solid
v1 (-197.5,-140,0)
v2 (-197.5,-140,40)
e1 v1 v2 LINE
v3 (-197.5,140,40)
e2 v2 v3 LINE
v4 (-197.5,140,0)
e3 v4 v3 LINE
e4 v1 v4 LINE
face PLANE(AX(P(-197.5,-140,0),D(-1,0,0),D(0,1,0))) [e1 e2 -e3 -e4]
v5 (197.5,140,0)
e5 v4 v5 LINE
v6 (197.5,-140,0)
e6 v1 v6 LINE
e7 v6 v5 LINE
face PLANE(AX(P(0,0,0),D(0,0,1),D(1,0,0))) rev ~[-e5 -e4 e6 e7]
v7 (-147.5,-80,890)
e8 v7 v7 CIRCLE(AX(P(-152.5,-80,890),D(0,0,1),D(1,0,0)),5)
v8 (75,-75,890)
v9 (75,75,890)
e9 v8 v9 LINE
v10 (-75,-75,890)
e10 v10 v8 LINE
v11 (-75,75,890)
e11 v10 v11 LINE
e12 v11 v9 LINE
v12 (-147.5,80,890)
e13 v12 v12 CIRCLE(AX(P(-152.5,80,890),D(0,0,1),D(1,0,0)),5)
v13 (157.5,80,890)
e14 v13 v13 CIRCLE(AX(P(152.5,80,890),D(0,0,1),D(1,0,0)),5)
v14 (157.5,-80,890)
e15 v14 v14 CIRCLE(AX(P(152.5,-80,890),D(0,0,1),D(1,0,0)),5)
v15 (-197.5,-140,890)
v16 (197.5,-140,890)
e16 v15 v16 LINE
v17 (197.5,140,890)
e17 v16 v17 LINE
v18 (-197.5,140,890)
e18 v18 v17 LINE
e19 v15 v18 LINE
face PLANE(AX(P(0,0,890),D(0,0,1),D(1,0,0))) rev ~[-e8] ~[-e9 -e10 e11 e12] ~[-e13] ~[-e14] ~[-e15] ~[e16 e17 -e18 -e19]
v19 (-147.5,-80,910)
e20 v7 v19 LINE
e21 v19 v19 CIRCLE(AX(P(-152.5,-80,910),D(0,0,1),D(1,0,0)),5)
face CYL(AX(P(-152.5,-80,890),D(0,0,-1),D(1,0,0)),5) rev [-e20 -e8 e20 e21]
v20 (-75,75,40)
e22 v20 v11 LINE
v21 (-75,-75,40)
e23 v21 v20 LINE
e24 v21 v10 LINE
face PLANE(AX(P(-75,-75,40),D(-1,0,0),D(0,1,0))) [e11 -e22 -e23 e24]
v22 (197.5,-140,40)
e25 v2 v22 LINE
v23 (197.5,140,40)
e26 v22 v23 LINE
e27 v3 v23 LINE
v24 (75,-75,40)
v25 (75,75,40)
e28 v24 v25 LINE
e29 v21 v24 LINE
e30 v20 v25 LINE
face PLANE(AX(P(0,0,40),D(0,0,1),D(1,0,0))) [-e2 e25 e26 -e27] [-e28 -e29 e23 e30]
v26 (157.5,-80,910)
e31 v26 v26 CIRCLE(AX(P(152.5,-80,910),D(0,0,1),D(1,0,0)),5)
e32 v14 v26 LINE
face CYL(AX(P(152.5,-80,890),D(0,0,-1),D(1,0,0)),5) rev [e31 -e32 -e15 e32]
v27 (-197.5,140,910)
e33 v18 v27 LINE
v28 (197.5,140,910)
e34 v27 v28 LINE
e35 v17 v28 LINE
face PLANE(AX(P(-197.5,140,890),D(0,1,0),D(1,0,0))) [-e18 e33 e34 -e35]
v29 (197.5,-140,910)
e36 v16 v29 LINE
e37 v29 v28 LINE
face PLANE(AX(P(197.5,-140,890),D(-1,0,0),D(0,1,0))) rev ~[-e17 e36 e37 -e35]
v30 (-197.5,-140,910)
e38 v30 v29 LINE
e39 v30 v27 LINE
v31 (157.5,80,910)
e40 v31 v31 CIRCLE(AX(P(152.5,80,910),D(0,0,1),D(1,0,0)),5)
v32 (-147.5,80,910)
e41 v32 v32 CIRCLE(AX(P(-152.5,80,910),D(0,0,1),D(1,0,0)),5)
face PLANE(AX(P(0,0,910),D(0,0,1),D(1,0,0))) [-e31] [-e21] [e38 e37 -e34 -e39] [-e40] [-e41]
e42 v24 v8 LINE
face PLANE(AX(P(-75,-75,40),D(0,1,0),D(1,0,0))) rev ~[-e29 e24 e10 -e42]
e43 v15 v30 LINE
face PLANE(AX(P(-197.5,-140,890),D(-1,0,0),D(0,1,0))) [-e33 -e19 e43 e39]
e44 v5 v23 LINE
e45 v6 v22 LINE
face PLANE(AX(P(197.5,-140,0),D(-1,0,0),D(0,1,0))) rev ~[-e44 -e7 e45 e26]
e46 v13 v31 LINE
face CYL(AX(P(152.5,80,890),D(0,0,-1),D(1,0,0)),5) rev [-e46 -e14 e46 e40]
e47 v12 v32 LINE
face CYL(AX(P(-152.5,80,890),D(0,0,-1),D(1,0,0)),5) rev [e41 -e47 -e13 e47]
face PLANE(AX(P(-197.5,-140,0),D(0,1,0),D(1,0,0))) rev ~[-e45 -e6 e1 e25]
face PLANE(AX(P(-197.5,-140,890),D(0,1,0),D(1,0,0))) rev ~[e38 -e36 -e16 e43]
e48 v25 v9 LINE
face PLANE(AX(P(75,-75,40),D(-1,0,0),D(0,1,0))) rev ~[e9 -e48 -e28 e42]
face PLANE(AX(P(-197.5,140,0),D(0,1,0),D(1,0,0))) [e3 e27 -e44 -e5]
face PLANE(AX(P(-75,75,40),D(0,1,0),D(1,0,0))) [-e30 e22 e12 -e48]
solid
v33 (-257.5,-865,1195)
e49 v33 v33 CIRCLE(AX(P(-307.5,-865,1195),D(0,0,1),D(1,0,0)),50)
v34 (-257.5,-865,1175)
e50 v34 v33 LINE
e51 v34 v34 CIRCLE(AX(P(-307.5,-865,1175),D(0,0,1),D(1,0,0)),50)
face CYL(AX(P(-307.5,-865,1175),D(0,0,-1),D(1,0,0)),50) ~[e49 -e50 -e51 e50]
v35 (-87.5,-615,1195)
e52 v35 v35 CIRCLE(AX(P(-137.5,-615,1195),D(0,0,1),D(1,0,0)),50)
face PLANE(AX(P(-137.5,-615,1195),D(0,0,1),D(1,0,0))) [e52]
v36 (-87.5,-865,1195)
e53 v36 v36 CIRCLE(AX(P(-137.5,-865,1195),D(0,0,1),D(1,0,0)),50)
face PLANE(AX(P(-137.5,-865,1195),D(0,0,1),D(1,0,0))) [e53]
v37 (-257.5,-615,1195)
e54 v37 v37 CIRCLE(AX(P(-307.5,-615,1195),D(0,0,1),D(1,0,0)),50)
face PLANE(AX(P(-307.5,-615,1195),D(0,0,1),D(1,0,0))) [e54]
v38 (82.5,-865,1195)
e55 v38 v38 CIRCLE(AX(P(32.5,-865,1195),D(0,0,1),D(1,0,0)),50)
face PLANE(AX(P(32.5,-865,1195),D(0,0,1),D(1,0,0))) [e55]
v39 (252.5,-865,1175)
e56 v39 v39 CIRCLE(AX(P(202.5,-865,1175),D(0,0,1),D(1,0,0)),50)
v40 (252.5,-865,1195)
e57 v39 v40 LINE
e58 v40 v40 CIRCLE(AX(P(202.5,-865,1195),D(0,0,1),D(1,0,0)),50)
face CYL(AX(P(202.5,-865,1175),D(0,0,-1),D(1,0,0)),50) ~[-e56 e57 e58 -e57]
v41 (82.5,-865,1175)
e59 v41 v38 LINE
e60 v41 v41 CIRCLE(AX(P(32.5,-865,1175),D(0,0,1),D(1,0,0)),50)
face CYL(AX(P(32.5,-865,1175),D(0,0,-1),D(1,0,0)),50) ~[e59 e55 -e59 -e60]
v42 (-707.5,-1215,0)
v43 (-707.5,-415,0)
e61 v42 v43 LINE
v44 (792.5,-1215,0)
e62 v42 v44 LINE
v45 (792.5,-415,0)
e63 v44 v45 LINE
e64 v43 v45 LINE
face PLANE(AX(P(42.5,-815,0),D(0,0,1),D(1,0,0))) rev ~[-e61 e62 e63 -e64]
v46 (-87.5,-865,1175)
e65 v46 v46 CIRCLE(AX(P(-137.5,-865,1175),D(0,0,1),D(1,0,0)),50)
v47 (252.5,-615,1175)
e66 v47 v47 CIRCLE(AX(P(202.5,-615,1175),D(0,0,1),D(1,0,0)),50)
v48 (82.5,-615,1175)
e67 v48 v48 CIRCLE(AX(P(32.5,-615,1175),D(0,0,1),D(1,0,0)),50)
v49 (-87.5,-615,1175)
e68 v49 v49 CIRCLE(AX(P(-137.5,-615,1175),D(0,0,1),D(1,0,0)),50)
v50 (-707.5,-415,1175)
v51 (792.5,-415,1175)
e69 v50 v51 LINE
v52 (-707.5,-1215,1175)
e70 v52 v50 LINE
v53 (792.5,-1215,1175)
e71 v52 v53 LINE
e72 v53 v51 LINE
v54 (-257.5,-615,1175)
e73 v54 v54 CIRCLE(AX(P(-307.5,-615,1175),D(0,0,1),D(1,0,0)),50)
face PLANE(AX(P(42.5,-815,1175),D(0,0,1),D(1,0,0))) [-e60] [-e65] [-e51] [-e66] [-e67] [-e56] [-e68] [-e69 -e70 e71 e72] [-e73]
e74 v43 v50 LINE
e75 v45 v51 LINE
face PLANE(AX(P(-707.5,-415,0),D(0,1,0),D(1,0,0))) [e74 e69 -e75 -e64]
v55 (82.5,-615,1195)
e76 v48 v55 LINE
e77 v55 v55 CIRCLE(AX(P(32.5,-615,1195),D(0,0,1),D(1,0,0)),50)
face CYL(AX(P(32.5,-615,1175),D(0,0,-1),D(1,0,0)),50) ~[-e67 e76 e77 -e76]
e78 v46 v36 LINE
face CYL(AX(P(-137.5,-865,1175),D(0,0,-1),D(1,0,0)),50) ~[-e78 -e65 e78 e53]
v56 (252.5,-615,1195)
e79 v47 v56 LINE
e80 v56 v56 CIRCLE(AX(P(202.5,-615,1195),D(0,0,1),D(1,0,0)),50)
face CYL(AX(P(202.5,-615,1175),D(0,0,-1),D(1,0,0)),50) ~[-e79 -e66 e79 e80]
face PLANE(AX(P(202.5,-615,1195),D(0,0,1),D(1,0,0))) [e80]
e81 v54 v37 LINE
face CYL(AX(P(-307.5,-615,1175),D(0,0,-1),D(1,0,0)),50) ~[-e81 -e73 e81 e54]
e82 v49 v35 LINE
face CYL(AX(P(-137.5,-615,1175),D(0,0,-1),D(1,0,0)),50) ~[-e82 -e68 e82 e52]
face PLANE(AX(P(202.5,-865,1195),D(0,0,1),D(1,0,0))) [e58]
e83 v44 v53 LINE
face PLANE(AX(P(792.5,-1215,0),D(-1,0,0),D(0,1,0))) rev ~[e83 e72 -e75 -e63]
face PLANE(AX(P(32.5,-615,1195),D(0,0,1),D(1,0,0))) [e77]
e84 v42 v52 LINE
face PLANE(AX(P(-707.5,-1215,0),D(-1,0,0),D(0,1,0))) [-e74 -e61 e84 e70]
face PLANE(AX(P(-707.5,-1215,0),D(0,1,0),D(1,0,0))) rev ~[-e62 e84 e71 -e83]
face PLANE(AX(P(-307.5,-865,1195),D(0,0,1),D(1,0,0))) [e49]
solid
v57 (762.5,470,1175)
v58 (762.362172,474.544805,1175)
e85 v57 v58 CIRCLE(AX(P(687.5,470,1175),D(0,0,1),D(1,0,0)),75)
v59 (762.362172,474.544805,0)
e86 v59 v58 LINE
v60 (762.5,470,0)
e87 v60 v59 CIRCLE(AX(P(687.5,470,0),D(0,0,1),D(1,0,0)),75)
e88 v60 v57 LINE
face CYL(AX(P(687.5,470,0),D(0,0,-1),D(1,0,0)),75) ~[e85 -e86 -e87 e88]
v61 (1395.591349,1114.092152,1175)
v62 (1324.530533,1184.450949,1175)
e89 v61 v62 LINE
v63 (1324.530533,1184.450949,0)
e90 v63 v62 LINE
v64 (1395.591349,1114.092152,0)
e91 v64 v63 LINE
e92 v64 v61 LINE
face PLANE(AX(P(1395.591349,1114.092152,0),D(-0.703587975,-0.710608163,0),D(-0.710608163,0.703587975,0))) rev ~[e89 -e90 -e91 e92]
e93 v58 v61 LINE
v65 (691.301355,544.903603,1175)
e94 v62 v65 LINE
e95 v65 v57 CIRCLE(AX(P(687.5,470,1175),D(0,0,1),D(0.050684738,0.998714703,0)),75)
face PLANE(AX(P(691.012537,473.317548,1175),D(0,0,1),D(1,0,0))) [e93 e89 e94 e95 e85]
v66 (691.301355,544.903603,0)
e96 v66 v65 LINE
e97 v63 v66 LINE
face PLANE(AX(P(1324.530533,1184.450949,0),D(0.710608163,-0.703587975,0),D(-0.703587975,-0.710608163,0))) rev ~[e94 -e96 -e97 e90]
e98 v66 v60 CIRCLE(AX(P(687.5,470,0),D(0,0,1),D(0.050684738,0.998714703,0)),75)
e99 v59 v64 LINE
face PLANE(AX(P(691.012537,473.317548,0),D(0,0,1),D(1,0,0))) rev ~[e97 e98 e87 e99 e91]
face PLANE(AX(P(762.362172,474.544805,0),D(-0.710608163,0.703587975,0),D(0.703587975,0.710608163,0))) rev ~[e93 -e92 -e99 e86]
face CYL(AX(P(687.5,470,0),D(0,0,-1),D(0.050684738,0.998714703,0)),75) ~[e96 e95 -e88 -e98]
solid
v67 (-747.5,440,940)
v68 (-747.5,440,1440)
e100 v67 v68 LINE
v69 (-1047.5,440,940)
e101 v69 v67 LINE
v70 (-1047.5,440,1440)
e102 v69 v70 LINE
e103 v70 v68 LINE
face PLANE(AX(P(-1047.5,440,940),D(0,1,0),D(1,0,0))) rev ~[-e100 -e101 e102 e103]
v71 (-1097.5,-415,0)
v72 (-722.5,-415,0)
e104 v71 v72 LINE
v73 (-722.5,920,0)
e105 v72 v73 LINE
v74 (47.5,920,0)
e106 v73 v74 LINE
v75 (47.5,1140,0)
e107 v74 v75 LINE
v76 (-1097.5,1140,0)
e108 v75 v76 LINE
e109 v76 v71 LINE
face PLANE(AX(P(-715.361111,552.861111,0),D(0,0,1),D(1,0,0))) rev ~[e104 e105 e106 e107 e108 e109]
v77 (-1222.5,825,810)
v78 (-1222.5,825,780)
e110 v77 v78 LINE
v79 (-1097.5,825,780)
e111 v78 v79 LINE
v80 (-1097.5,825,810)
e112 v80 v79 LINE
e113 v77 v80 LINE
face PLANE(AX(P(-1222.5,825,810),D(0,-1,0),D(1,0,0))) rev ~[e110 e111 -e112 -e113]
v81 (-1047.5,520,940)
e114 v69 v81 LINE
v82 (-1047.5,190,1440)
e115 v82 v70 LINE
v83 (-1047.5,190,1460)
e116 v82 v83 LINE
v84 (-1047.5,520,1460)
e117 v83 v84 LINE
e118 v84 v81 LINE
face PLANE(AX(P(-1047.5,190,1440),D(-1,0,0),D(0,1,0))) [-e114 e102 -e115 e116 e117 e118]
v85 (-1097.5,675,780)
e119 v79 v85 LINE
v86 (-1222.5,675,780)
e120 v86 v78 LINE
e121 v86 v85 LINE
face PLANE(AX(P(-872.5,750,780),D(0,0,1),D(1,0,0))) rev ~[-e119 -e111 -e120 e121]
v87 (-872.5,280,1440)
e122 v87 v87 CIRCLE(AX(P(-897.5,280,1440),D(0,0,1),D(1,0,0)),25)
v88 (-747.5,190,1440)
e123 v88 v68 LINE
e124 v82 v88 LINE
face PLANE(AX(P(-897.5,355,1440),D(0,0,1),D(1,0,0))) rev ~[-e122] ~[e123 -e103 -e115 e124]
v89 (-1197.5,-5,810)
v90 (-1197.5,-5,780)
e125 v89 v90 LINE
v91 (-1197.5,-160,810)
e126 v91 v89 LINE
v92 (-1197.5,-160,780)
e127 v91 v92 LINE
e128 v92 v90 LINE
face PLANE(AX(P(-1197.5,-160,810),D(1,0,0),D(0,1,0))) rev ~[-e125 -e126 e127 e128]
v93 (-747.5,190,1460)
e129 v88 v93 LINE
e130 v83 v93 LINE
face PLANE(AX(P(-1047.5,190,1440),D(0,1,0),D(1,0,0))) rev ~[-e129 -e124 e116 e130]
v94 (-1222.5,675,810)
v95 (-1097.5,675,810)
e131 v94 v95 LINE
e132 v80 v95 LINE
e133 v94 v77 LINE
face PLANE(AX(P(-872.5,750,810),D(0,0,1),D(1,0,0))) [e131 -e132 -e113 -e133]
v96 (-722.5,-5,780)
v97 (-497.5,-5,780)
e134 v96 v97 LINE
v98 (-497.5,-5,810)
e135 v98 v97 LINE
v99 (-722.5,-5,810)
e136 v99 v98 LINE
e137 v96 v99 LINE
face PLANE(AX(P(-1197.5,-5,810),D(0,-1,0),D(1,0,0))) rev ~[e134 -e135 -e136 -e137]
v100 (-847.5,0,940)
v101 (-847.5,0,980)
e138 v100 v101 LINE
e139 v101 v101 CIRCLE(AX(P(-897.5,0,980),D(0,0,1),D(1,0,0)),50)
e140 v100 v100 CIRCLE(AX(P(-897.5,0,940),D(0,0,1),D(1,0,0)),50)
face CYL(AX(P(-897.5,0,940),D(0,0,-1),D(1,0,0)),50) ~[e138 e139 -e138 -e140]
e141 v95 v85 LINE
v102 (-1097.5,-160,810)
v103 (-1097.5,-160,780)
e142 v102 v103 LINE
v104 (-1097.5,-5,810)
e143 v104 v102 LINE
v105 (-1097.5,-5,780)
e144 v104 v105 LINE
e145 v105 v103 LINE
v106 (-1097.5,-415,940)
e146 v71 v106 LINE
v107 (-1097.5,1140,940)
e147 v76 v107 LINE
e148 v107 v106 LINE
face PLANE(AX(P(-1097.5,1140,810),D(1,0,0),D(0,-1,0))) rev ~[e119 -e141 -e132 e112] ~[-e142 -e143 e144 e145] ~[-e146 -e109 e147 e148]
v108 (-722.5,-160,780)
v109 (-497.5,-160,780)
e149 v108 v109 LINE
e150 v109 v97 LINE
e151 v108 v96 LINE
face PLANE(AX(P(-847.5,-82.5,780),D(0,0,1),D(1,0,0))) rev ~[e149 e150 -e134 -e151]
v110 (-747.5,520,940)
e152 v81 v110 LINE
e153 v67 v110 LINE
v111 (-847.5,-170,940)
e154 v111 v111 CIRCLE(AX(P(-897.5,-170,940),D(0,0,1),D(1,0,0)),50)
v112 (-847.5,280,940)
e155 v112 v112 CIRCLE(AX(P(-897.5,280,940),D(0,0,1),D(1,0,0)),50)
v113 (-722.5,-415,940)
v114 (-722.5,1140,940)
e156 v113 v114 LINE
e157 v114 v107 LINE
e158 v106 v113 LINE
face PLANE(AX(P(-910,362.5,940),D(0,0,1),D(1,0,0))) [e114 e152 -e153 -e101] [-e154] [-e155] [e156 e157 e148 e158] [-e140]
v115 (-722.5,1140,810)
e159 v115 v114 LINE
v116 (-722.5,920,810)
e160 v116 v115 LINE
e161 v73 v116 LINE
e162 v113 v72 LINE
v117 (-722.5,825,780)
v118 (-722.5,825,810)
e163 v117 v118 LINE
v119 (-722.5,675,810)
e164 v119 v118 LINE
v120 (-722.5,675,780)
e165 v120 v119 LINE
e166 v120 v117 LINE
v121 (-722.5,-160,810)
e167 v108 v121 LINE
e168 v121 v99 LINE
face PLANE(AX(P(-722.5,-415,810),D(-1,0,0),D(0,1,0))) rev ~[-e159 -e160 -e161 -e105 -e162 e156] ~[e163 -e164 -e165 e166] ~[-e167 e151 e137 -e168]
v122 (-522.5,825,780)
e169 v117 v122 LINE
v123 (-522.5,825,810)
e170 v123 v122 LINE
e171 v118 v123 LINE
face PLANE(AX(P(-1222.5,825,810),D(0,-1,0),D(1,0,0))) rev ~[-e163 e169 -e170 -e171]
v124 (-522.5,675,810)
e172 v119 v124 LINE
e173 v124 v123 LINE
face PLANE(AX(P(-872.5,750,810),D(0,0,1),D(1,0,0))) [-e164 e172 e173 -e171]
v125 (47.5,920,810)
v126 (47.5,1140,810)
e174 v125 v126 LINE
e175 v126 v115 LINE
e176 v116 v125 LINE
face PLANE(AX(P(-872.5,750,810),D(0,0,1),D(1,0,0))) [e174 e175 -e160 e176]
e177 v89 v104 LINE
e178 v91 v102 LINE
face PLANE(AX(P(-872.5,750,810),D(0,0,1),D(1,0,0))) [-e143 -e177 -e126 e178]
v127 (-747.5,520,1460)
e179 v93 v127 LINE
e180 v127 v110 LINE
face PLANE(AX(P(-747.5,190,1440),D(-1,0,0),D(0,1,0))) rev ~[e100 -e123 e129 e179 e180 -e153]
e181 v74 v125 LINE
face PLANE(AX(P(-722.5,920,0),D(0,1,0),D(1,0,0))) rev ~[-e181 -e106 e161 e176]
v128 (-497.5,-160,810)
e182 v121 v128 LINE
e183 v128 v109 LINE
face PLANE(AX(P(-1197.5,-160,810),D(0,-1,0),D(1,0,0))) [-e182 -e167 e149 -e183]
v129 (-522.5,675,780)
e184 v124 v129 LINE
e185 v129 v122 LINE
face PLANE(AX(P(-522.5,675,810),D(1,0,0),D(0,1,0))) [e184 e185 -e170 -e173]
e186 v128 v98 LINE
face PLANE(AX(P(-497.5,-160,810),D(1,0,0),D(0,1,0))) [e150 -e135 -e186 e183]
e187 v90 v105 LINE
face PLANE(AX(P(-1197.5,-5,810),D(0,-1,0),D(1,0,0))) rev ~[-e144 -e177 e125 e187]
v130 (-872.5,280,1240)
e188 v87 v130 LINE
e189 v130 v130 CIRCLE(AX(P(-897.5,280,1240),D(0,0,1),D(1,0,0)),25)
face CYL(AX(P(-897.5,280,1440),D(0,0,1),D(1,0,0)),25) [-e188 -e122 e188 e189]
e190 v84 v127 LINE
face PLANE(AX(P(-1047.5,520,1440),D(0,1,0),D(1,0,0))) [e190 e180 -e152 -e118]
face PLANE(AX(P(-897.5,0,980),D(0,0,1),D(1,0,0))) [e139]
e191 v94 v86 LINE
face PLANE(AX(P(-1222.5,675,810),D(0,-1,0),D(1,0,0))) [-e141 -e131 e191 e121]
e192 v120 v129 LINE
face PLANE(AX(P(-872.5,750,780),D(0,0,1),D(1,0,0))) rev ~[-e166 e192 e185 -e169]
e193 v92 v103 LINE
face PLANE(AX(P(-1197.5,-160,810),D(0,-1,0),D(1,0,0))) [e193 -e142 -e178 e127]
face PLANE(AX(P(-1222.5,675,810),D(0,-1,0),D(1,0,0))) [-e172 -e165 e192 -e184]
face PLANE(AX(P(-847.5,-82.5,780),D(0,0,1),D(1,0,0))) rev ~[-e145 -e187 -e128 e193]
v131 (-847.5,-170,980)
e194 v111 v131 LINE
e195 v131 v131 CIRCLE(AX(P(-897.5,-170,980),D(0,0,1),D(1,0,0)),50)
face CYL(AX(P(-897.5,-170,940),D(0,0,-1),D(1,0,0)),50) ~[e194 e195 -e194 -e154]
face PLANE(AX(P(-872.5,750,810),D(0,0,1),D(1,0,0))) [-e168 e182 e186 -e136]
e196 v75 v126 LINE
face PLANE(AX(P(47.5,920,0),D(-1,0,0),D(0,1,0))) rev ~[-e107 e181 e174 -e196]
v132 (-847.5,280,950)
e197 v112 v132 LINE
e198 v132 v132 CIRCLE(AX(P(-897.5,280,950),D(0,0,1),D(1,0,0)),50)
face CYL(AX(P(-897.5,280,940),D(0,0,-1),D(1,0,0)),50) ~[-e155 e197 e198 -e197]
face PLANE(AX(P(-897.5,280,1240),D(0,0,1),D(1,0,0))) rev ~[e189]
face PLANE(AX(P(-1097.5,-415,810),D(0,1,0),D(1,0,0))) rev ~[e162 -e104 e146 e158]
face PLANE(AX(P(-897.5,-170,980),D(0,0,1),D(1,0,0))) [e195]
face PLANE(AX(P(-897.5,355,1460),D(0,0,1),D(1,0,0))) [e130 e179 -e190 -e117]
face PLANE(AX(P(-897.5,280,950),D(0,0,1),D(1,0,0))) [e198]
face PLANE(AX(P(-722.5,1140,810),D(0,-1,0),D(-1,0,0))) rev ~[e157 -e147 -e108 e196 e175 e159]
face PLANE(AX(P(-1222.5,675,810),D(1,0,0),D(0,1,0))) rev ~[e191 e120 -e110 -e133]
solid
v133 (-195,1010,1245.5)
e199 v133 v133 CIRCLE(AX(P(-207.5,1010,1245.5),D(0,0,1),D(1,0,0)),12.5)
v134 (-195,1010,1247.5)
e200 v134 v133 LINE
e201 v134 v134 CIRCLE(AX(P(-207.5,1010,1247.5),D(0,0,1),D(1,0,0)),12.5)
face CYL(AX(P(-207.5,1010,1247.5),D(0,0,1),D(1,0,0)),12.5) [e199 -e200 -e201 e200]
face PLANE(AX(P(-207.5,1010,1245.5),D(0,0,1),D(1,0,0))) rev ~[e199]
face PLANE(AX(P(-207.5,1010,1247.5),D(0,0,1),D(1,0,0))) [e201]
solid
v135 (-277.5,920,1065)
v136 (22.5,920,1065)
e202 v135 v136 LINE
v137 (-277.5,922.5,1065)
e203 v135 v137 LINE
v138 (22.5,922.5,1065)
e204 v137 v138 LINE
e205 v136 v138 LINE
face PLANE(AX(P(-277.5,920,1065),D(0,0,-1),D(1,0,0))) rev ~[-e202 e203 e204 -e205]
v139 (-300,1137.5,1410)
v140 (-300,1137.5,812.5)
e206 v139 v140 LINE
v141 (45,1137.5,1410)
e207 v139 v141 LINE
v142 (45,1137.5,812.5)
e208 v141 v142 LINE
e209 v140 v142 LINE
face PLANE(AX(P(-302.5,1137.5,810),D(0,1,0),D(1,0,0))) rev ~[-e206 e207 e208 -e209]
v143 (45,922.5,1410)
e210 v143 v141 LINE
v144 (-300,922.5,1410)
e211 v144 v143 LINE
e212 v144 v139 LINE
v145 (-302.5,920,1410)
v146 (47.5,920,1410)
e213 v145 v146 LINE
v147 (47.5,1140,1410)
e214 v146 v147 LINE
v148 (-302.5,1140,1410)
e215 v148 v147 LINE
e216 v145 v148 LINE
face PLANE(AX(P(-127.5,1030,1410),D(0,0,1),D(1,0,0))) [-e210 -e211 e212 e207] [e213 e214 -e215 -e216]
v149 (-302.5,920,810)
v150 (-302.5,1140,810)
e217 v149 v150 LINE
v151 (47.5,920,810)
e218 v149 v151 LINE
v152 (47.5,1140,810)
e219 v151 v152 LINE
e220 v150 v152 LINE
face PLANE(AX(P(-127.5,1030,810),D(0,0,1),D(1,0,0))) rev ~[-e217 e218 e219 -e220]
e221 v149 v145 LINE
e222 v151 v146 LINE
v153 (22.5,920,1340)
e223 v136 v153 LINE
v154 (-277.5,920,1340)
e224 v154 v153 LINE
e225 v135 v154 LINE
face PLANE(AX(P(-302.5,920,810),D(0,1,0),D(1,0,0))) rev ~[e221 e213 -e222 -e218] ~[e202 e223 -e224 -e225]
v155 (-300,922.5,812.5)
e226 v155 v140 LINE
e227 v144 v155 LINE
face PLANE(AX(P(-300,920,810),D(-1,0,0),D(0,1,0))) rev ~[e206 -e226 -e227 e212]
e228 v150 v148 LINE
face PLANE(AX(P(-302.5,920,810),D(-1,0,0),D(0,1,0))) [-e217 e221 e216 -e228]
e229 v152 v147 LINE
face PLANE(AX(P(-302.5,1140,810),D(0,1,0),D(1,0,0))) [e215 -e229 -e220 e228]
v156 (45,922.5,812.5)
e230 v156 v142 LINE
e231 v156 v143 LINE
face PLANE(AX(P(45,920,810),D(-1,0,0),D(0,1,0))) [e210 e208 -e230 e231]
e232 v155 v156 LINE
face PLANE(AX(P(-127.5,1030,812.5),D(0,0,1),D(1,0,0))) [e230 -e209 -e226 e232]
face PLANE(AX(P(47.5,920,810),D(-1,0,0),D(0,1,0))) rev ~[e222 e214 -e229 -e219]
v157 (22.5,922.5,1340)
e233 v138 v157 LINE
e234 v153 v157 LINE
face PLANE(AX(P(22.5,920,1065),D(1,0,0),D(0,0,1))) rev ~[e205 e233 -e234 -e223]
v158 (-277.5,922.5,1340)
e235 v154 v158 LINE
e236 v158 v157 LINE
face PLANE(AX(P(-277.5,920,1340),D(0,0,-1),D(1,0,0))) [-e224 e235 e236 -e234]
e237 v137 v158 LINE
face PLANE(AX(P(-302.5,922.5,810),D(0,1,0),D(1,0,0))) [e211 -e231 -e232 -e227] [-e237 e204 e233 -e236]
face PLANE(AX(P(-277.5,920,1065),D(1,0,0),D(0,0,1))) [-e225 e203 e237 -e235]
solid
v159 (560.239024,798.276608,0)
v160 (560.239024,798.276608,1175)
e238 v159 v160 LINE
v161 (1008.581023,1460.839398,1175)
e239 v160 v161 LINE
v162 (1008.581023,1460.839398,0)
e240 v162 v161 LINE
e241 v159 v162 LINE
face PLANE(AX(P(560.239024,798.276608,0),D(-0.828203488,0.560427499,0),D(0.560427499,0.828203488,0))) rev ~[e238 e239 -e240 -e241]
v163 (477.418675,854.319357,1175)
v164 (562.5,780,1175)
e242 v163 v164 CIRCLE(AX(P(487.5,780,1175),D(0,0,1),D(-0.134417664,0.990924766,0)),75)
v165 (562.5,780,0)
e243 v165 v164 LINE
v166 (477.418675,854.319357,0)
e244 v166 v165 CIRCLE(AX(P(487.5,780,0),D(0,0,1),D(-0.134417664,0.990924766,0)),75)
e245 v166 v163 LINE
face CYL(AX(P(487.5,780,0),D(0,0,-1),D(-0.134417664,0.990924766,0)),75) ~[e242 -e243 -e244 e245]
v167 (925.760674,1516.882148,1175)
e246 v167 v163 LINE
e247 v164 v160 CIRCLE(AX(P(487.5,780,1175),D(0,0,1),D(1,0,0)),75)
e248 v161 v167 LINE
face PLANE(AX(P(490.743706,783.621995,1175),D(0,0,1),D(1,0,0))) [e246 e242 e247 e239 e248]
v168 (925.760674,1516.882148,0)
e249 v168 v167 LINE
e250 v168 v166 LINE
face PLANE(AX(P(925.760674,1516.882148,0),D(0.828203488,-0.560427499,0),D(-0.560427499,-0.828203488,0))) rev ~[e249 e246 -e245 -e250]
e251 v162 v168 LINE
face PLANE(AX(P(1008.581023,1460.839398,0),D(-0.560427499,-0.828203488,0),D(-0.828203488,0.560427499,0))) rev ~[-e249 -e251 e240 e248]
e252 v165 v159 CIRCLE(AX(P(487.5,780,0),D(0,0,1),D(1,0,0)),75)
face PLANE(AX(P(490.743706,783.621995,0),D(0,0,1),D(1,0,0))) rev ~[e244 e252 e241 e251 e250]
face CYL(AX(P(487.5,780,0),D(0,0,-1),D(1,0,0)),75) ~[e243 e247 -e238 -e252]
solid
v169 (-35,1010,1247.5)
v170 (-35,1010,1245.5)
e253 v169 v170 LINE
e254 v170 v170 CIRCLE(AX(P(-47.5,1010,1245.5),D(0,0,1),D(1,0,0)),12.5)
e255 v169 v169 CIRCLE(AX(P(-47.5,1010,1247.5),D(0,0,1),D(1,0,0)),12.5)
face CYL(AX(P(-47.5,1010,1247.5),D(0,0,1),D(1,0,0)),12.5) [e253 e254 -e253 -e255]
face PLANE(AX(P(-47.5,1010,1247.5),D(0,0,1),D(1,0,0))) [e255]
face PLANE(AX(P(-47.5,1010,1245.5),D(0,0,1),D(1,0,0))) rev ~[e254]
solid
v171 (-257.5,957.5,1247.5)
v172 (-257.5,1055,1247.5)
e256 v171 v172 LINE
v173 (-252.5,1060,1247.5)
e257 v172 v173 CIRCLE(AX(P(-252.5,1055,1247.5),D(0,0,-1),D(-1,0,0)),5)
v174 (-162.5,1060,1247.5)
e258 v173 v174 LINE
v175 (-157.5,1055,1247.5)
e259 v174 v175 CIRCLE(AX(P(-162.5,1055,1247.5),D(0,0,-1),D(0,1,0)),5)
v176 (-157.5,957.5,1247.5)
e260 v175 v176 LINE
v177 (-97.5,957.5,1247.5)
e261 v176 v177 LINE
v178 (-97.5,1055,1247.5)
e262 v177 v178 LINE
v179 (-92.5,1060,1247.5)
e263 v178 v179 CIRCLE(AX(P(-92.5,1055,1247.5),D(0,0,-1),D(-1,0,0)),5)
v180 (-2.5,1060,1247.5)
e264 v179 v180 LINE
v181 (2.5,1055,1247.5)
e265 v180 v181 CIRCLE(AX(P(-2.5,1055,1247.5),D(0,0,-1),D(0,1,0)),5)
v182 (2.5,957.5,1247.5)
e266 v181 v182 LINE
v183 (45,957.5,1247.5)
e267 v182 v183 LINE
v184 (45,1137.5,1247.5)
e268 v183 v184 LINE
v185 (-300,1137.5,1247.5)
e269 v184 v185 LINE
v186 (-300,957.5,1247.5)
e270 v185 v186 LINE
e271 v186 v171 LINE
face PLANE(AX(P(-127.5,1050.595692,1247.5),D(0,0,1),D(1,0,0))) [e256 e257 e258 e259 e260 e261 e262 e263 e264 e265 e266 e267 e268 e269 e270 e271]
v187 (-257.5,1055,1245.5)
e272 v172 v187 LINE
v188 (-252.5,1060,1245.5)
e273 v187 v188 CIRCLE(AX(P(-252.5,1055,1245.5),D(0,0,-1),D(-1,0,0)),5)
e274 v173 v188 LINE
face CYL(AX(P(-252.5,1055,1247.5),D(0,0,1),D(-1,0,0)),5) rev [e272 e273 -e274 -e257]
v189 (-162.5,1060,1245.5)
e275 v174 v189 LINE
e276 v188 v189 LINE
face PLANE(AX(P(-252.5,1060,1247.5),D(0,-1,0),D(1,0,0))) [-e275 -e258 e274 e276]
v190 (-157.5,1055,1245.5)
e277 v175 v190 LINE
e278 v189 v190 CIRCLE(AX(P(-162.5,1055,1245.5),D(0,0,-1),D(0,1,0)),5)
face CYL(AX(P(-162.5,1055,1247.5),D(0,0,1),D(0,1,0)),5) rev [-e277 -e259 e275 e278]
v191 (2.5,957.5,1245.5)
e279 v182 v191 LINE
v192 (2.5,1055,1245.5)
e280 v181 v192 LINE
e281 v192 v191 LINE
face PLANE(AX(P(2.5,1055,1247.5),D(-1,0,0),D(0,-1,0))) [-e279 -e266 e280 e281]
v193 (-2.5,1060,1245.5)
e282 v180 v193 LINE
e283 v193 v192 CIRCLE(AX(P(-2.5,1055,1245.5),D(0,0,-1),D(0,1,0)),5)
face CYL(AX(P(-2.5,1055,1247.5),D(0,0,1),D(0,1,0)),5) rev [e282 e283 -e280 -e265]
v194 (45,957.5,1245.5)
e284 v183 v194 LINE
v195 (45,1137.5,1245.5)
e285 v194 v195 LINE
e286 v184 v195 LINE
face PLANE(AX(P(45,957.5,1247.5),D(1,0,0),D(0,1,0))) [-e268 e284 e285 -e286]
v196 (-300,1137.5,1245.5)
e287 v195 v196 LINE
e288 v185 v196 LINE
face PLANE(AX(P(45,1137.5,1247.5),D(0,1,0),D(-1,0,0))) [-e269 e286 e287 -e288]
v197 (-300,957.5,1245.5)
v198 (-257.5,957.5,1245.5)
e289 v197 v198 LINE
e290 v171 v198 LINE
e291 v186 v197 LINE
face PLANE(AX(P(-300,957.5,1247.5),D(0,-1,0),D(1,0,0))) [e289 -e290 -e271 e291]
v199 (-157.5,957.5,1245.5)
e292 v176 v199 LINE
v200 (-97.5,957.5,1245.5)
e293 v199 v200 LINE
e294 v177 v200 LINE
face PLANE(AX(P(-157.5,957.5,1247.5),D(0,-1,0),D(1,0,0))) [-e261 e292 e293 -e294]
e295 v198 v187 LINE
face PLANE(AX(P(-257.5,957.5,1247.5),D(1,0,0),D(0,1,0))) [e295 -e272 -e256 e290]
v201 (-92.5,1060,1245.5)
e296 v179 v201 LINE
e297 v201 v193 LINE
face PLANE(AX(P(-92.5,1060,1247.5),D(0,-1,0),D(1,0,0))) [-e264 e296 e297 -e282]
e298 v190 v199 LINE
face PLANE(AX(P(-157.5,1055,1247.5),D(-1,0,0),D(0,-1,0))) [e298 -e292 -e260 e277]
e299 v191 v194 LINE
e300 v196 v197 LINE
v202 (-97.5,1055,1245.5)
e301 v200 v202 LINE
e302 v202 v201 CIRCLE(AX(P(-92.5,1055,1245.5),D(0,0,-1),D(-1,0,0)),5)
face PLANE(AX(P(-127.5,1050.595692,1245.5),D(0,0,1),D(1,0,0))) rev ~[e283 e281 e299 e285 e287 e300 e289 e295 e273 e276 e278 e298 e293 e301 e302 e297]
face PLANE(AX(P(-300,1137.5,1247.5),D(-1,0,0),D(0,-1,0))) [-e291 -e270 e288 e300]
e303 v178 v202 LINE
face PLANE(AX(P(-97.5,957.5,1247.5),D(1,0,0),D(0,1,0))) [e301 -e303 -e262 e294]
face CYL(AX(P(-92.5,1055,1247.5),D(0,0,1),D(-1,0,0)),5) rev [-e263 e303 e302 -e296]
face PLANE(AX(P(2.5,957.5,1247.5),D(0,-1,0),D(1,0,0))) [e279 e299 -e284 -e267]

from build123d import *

# Parameters (mm, degrees)
F0_W      = 395
F0_H      = 280
F1_DEPTH  = 40
F2_W      = 150
F2_H      = 150
F3_DEPTH  = 850
F4_W      = 395
F4_H      = 280
F4_R      = 5
F5_DEPTH  = 20
F7_DEPTH  = 810
F8_W      = 350
F8_H      = 220
F9_DEPTH  = 600
F11_T     = -2.5
F10_W     = 300
F10_H     = 275
F12_DEPTH = 2.5
F14_R     = 12.5
F15_DEPTH = 2
F17_DEPTH = 1175
F18_DEPTH = 1175
F19_W     = 700
F19_H     = 150
F19_H_2   = 155
F20_DEPTH = 30
F22_DEPTH = 130
F23_R     = 50
F24_DEPTH = 10
F23_W     = 300
F23_H     = 80
F25_DEPTH = 500
F26_W     = 300
F26_H     = 330
F26_R     = 25
F27_DEPTH = 20
F28_DEPTH = 200
F29_DEPTH = 40
F30_W     = 1500
F30_H     = 800
F31_DEPTH = 1175
F32_R     = 50
F33_DEPTH = 20


with BuildPart() as f1:
    # F0 (on Top) → F1 (new body)
    with BuildSketch(Plane.XY):
        Rectangle(F0_W, F0_H)
    extrude(amount=F1_DEPTH)

    # F2 (on face) → F3 (join)
    with BuildSketch(Plane.XY.offset(40)):
        Rectangle(F2_W, F2_H)
    extrude(amount=F3_DEPTH)

    # F4 (on face) → F5 (join)
    with BuildSketch(Plane.XY.offset(890)):
        Rectangle(F4_W, F4_H)
        with Locations((-152.5, -80)):
            Circle(F4_R, mode=Mode.SUBTRACT)
        with Locations((152.5, -80)):
            Circle(F4_R, mode=Mode.SUBTRACT)
        with Locations((-152.5, 80)):
            Circle(F4_R, mode=Mode.SUBTRACT)
        with Locations((152.5, 80)):
            Circle(F4_R, mode=Mode.SUBTRACT)
    extrude(amount=F5_DEPTH)


with BuildPart() as f7:
    # F6 (on Top) → F7 (new body)
    with BuildSketch(Plane.XY):
        Polygon((-722.5, 920), (47.5, 920), (47.5, 1140), (-1097.5, 1140), (-1097.5, -415), (-722.5, -415), align=None)
    extrude(amount=F7_DEPTH)

    # F19 (on face) → F20 (join)
    with BuildSketch(Plane.XY.offset(810)):
        with Locations((-872.5, 750)):
            Rectangle(F19_W, F19_H)
        with Locations((-847.5, -82.5)):
            Rectangle(F19_W, F19_H_2)
    extrude(amount=-F20_DEPTH)

    # F21 (on face) → F22 (join)
    with BuildSketch(Plane.XY.offset(810)):
        Polygon((-722.5, 1140), (-1097.5, 1140), (-1097.5, 675), (-1097.5, -160), (-1097.5, -415), (-722.5, -415), (-722.5, -160), (-722.5, 675), align=None)
    extrude(amount=F22_DEPTH)

    # F23 (on face) → F24 (join)
    with BuildSketch(Plane.XY.offset(940)):
        with Locations((-897.5, 280)):
            Circle(F23_R)
    extrude(amount=F24_DEPTH)

    # F23 (on face) → F25 (join)
    with BuildSketch(Plane.XY.offset(940)):
        with Locations((-897.5, 480)):
            Rectangle(F23_W, F23_H)
    extrude(amount=F25_DEPTH)

    # F26 (on face) → F27 (join)
    with BuildSketch(Plane.XY.offset(1440)):
        with Locations((-897.5, 355)):
            Rectangle(F26_W, F26_H)
        with Locations((-897.5, 280)):
            Circle(F26_R, mode=Mode.SUBTRACT)
        with Locations((-897.5, 280)):
            Circle(F26_R)
    extrude(amount=F27_DEPTH)

    # F26 (on face) → F28 (join)
    with BuildSketch(Plane.XY.offset(1440)):
        with Locations((-897.5, 280)):
            Circle(F26_R)
    extrude(amount=-F28_DEPTH)

    # F23 (on face) → F29 (join)
    with BuildSketch(Plane.XY.offset(940)):
        with Locations((-897.5, 0)):
            Circle(F23_R)
        with Locations((-897.5, -170)):
            Circle(F23_R)
    extrude(amount=F29_DEPTH)


with BuildPart() as f9:
    # F8 (on face) → F9 (new body)
    with BuildSketch(Plane.XY.offset(810)):
        with Locations((-127.5, 1030)):
            Rectangle(F8_W, F8_H)
    extrude(amount=F9_DEPTH)

    # F11
    f11_openings = [f9.faces().sort_by_distance(p)[0] for p in [
        (-127.5, 1030, 1410),
    ]]
    offset(amount=F11_T, openings=f11_openings)

    # F10 (on face) → F12 (cut, through all)
    with BuildSketch(Plane.XZ.offset(-920)):
        with Locations((-127.5, 1202.5)):
            Rectangle(F10_W, F10_H)
    extrude(amount=-F12_DEPTH, mode=Mode.SUBTRACT)


with BuildPart() as f15:
    # F14 (on offset) → F15 (new body)
    with BuildSketch(Plane.XY.offset(1247.5)):
        with Locations((-47.5, 1010)):
            Circle(F14_R)
    extrude(amount=-F15_DEPTH)


with BuildPart() as f15b:
    # F14 (on offset) → F15, piece 2 (new body)
    with BuildSketch(Plane.XY.offset(1247.5)):
        with BuildLine():
            Line((2.5, 1055), (2.5, 957.5))
            Line((2.5, 957.5), (45, 957.5))
            Line((45, 957.5), (45, 1137.5))
            Line((45, 1137.5), (-300, 1137.5))
            Line((-300, 1137.5), (-300, 957.5))
            Line((-300, 957.5), (-257.5, 957.5))
            Line((-257.5, 957.5), (-257.5, 1055))
            ThreePointArc((-257.5, 1055), (-256.0355339059, 1058.5355339059), (-252.5, 1060))
            Line((-252.5, 1060), (-162.5, 1060))
            ThreePointArc((-162.5, 1060), (-158.9644660941, 1058.5355339059), (-157.5, 1055))
            Line((-157.5, 1055), (-157.5, 957.5))
            Line((-157.5, 957.5), (-97.5, 957.5))
            Line((-97.5, 957.5), (-97.5, 1055))
            ThreePointArc((-97.5, 1055), (-96.0355339059, 1058.5355339059), (-92.5, 1060))
            Line((-92.5, 1060), (-2.5, 1060))
            ThreePointArc((-2.5, 1060), (1.0355339059, 1058.5355339059), (2.5, 1055))
        make_face()
    extrude(amount=-F15_DEPTH)


with BuildPart() as f15c:
    # F14 (on offset) → F15, piece 3 (new body)
    with BuildSketch(Plane.XY.offset(1247.5)):
        with Locations((-207.5, 1010)):
            Circle(F14_R)
    extrude(amount=-F15_DEPTH)


with BuildPart() as f17:
    # F16 (on Top) → F17 (new body)
    with BuildSketch(Plane.XY):
        with BuildLine():
            ThreePointArc((477.4186751829, 854.3193574376), (438.1598508377, 723.5150490782), (562.5, 780))
            ThreePointArc((562.5, 780), (561.9326097969, 789.2079638808), (560.2390240312, 798.276607535))
            ThreePointArc((560.2390240312, 798.276607535), (529.5320624269, 842.1152616362), (477.4186751829, 854.3193574376))
        make_face()
        with BuildLine():
            ThreePointArc((477.4186751829, 854.3193574376), (529.5320624269, 842.1152616362), (560.2390240312, 798.276607535))
            Line((560.2390240312, 798.276607535), (1008.581023252, 1460.8393983214))
            Line((1008.581023252, 1460.8393983214), (925.7606744037, 1516.882148224))
            Line((925.7606744037, 1516.882148224), (477.4186751829, 854.3193574376))
        make_face()
    extrude(amount=F17_DEPTH)


with BuildPart() as f18:
    # F16 (on Top) → F18 (new body)
    with BuildSketch(Plane.XY):
        with BuildLine():
            ThreePointArc((691.3013553771, 544.903602699), (633.1396208012, 418.3284490908), (762.5, 470))
            ThreePointArc((762.5, 470), (762.4655349965, 472.2734473127), (762.3621716618, 474.5448051755))
            ThreePointArc((762.3621716618, 474.5448051755), (740.2690981427, 523.2956122135), (691.3013553771, 544.903602699))
        make_face()
        with BuildLine():
            ThreePointArc((691.3013553771, 544.903602699), (740.2690981427, 523.2956122135), (762.3621716618, 474.5448051755))
            Line((762.3621716618, 474.5448051755), (1395.5913493736, 1114.0921517374))
            Line((1395.5913493736, 1114.0921517374), (1324.530533089, 1184.4509492609))
            Line((1324.530533089, 1184.4509492609), (691.3013553771, 544.903602699))
        make_face()
    extrude(amount=F18_DEPTH)


with BuildPart() as f31:
    # F30 (on Top) → F31 (new body)
    with BuildSketch(Plane.XY):
        with Locations((42.5, -815)):
            Rectangle(F30_W, F30_H)
    extrude(amount=F31_DEPTH)

    # F32 (on face) → F33 (join)
    with BuildSketch(Plane.XY.offset(1175)):
        with Locations((-307.5, -615)):
            Circle(F32_R)
        with Locations((-307.5, -865)):
            Circle(F32_R)
        with Locations((-137.5, -615)):
            Circle(F32_R)
        with Locations((-137.5, -865)):
            Circle(F32_R)
        with Locations((32.5, -615)):
            Circle(F32_R)
        with Locations((32.5, -865)):
            Circle(F32_R)
        with Locations((202.5, -615)):
            Circle(F32_R)
        with Locations((202.5, -865)):
            Circle(F32_R)
    extrude(amount=F33_DEPTH)


solid = Compound([f1.part, f7.part, f9.part, f15.part, f15b.part, f15c.part, f17.part, f18.part, f31.part])
